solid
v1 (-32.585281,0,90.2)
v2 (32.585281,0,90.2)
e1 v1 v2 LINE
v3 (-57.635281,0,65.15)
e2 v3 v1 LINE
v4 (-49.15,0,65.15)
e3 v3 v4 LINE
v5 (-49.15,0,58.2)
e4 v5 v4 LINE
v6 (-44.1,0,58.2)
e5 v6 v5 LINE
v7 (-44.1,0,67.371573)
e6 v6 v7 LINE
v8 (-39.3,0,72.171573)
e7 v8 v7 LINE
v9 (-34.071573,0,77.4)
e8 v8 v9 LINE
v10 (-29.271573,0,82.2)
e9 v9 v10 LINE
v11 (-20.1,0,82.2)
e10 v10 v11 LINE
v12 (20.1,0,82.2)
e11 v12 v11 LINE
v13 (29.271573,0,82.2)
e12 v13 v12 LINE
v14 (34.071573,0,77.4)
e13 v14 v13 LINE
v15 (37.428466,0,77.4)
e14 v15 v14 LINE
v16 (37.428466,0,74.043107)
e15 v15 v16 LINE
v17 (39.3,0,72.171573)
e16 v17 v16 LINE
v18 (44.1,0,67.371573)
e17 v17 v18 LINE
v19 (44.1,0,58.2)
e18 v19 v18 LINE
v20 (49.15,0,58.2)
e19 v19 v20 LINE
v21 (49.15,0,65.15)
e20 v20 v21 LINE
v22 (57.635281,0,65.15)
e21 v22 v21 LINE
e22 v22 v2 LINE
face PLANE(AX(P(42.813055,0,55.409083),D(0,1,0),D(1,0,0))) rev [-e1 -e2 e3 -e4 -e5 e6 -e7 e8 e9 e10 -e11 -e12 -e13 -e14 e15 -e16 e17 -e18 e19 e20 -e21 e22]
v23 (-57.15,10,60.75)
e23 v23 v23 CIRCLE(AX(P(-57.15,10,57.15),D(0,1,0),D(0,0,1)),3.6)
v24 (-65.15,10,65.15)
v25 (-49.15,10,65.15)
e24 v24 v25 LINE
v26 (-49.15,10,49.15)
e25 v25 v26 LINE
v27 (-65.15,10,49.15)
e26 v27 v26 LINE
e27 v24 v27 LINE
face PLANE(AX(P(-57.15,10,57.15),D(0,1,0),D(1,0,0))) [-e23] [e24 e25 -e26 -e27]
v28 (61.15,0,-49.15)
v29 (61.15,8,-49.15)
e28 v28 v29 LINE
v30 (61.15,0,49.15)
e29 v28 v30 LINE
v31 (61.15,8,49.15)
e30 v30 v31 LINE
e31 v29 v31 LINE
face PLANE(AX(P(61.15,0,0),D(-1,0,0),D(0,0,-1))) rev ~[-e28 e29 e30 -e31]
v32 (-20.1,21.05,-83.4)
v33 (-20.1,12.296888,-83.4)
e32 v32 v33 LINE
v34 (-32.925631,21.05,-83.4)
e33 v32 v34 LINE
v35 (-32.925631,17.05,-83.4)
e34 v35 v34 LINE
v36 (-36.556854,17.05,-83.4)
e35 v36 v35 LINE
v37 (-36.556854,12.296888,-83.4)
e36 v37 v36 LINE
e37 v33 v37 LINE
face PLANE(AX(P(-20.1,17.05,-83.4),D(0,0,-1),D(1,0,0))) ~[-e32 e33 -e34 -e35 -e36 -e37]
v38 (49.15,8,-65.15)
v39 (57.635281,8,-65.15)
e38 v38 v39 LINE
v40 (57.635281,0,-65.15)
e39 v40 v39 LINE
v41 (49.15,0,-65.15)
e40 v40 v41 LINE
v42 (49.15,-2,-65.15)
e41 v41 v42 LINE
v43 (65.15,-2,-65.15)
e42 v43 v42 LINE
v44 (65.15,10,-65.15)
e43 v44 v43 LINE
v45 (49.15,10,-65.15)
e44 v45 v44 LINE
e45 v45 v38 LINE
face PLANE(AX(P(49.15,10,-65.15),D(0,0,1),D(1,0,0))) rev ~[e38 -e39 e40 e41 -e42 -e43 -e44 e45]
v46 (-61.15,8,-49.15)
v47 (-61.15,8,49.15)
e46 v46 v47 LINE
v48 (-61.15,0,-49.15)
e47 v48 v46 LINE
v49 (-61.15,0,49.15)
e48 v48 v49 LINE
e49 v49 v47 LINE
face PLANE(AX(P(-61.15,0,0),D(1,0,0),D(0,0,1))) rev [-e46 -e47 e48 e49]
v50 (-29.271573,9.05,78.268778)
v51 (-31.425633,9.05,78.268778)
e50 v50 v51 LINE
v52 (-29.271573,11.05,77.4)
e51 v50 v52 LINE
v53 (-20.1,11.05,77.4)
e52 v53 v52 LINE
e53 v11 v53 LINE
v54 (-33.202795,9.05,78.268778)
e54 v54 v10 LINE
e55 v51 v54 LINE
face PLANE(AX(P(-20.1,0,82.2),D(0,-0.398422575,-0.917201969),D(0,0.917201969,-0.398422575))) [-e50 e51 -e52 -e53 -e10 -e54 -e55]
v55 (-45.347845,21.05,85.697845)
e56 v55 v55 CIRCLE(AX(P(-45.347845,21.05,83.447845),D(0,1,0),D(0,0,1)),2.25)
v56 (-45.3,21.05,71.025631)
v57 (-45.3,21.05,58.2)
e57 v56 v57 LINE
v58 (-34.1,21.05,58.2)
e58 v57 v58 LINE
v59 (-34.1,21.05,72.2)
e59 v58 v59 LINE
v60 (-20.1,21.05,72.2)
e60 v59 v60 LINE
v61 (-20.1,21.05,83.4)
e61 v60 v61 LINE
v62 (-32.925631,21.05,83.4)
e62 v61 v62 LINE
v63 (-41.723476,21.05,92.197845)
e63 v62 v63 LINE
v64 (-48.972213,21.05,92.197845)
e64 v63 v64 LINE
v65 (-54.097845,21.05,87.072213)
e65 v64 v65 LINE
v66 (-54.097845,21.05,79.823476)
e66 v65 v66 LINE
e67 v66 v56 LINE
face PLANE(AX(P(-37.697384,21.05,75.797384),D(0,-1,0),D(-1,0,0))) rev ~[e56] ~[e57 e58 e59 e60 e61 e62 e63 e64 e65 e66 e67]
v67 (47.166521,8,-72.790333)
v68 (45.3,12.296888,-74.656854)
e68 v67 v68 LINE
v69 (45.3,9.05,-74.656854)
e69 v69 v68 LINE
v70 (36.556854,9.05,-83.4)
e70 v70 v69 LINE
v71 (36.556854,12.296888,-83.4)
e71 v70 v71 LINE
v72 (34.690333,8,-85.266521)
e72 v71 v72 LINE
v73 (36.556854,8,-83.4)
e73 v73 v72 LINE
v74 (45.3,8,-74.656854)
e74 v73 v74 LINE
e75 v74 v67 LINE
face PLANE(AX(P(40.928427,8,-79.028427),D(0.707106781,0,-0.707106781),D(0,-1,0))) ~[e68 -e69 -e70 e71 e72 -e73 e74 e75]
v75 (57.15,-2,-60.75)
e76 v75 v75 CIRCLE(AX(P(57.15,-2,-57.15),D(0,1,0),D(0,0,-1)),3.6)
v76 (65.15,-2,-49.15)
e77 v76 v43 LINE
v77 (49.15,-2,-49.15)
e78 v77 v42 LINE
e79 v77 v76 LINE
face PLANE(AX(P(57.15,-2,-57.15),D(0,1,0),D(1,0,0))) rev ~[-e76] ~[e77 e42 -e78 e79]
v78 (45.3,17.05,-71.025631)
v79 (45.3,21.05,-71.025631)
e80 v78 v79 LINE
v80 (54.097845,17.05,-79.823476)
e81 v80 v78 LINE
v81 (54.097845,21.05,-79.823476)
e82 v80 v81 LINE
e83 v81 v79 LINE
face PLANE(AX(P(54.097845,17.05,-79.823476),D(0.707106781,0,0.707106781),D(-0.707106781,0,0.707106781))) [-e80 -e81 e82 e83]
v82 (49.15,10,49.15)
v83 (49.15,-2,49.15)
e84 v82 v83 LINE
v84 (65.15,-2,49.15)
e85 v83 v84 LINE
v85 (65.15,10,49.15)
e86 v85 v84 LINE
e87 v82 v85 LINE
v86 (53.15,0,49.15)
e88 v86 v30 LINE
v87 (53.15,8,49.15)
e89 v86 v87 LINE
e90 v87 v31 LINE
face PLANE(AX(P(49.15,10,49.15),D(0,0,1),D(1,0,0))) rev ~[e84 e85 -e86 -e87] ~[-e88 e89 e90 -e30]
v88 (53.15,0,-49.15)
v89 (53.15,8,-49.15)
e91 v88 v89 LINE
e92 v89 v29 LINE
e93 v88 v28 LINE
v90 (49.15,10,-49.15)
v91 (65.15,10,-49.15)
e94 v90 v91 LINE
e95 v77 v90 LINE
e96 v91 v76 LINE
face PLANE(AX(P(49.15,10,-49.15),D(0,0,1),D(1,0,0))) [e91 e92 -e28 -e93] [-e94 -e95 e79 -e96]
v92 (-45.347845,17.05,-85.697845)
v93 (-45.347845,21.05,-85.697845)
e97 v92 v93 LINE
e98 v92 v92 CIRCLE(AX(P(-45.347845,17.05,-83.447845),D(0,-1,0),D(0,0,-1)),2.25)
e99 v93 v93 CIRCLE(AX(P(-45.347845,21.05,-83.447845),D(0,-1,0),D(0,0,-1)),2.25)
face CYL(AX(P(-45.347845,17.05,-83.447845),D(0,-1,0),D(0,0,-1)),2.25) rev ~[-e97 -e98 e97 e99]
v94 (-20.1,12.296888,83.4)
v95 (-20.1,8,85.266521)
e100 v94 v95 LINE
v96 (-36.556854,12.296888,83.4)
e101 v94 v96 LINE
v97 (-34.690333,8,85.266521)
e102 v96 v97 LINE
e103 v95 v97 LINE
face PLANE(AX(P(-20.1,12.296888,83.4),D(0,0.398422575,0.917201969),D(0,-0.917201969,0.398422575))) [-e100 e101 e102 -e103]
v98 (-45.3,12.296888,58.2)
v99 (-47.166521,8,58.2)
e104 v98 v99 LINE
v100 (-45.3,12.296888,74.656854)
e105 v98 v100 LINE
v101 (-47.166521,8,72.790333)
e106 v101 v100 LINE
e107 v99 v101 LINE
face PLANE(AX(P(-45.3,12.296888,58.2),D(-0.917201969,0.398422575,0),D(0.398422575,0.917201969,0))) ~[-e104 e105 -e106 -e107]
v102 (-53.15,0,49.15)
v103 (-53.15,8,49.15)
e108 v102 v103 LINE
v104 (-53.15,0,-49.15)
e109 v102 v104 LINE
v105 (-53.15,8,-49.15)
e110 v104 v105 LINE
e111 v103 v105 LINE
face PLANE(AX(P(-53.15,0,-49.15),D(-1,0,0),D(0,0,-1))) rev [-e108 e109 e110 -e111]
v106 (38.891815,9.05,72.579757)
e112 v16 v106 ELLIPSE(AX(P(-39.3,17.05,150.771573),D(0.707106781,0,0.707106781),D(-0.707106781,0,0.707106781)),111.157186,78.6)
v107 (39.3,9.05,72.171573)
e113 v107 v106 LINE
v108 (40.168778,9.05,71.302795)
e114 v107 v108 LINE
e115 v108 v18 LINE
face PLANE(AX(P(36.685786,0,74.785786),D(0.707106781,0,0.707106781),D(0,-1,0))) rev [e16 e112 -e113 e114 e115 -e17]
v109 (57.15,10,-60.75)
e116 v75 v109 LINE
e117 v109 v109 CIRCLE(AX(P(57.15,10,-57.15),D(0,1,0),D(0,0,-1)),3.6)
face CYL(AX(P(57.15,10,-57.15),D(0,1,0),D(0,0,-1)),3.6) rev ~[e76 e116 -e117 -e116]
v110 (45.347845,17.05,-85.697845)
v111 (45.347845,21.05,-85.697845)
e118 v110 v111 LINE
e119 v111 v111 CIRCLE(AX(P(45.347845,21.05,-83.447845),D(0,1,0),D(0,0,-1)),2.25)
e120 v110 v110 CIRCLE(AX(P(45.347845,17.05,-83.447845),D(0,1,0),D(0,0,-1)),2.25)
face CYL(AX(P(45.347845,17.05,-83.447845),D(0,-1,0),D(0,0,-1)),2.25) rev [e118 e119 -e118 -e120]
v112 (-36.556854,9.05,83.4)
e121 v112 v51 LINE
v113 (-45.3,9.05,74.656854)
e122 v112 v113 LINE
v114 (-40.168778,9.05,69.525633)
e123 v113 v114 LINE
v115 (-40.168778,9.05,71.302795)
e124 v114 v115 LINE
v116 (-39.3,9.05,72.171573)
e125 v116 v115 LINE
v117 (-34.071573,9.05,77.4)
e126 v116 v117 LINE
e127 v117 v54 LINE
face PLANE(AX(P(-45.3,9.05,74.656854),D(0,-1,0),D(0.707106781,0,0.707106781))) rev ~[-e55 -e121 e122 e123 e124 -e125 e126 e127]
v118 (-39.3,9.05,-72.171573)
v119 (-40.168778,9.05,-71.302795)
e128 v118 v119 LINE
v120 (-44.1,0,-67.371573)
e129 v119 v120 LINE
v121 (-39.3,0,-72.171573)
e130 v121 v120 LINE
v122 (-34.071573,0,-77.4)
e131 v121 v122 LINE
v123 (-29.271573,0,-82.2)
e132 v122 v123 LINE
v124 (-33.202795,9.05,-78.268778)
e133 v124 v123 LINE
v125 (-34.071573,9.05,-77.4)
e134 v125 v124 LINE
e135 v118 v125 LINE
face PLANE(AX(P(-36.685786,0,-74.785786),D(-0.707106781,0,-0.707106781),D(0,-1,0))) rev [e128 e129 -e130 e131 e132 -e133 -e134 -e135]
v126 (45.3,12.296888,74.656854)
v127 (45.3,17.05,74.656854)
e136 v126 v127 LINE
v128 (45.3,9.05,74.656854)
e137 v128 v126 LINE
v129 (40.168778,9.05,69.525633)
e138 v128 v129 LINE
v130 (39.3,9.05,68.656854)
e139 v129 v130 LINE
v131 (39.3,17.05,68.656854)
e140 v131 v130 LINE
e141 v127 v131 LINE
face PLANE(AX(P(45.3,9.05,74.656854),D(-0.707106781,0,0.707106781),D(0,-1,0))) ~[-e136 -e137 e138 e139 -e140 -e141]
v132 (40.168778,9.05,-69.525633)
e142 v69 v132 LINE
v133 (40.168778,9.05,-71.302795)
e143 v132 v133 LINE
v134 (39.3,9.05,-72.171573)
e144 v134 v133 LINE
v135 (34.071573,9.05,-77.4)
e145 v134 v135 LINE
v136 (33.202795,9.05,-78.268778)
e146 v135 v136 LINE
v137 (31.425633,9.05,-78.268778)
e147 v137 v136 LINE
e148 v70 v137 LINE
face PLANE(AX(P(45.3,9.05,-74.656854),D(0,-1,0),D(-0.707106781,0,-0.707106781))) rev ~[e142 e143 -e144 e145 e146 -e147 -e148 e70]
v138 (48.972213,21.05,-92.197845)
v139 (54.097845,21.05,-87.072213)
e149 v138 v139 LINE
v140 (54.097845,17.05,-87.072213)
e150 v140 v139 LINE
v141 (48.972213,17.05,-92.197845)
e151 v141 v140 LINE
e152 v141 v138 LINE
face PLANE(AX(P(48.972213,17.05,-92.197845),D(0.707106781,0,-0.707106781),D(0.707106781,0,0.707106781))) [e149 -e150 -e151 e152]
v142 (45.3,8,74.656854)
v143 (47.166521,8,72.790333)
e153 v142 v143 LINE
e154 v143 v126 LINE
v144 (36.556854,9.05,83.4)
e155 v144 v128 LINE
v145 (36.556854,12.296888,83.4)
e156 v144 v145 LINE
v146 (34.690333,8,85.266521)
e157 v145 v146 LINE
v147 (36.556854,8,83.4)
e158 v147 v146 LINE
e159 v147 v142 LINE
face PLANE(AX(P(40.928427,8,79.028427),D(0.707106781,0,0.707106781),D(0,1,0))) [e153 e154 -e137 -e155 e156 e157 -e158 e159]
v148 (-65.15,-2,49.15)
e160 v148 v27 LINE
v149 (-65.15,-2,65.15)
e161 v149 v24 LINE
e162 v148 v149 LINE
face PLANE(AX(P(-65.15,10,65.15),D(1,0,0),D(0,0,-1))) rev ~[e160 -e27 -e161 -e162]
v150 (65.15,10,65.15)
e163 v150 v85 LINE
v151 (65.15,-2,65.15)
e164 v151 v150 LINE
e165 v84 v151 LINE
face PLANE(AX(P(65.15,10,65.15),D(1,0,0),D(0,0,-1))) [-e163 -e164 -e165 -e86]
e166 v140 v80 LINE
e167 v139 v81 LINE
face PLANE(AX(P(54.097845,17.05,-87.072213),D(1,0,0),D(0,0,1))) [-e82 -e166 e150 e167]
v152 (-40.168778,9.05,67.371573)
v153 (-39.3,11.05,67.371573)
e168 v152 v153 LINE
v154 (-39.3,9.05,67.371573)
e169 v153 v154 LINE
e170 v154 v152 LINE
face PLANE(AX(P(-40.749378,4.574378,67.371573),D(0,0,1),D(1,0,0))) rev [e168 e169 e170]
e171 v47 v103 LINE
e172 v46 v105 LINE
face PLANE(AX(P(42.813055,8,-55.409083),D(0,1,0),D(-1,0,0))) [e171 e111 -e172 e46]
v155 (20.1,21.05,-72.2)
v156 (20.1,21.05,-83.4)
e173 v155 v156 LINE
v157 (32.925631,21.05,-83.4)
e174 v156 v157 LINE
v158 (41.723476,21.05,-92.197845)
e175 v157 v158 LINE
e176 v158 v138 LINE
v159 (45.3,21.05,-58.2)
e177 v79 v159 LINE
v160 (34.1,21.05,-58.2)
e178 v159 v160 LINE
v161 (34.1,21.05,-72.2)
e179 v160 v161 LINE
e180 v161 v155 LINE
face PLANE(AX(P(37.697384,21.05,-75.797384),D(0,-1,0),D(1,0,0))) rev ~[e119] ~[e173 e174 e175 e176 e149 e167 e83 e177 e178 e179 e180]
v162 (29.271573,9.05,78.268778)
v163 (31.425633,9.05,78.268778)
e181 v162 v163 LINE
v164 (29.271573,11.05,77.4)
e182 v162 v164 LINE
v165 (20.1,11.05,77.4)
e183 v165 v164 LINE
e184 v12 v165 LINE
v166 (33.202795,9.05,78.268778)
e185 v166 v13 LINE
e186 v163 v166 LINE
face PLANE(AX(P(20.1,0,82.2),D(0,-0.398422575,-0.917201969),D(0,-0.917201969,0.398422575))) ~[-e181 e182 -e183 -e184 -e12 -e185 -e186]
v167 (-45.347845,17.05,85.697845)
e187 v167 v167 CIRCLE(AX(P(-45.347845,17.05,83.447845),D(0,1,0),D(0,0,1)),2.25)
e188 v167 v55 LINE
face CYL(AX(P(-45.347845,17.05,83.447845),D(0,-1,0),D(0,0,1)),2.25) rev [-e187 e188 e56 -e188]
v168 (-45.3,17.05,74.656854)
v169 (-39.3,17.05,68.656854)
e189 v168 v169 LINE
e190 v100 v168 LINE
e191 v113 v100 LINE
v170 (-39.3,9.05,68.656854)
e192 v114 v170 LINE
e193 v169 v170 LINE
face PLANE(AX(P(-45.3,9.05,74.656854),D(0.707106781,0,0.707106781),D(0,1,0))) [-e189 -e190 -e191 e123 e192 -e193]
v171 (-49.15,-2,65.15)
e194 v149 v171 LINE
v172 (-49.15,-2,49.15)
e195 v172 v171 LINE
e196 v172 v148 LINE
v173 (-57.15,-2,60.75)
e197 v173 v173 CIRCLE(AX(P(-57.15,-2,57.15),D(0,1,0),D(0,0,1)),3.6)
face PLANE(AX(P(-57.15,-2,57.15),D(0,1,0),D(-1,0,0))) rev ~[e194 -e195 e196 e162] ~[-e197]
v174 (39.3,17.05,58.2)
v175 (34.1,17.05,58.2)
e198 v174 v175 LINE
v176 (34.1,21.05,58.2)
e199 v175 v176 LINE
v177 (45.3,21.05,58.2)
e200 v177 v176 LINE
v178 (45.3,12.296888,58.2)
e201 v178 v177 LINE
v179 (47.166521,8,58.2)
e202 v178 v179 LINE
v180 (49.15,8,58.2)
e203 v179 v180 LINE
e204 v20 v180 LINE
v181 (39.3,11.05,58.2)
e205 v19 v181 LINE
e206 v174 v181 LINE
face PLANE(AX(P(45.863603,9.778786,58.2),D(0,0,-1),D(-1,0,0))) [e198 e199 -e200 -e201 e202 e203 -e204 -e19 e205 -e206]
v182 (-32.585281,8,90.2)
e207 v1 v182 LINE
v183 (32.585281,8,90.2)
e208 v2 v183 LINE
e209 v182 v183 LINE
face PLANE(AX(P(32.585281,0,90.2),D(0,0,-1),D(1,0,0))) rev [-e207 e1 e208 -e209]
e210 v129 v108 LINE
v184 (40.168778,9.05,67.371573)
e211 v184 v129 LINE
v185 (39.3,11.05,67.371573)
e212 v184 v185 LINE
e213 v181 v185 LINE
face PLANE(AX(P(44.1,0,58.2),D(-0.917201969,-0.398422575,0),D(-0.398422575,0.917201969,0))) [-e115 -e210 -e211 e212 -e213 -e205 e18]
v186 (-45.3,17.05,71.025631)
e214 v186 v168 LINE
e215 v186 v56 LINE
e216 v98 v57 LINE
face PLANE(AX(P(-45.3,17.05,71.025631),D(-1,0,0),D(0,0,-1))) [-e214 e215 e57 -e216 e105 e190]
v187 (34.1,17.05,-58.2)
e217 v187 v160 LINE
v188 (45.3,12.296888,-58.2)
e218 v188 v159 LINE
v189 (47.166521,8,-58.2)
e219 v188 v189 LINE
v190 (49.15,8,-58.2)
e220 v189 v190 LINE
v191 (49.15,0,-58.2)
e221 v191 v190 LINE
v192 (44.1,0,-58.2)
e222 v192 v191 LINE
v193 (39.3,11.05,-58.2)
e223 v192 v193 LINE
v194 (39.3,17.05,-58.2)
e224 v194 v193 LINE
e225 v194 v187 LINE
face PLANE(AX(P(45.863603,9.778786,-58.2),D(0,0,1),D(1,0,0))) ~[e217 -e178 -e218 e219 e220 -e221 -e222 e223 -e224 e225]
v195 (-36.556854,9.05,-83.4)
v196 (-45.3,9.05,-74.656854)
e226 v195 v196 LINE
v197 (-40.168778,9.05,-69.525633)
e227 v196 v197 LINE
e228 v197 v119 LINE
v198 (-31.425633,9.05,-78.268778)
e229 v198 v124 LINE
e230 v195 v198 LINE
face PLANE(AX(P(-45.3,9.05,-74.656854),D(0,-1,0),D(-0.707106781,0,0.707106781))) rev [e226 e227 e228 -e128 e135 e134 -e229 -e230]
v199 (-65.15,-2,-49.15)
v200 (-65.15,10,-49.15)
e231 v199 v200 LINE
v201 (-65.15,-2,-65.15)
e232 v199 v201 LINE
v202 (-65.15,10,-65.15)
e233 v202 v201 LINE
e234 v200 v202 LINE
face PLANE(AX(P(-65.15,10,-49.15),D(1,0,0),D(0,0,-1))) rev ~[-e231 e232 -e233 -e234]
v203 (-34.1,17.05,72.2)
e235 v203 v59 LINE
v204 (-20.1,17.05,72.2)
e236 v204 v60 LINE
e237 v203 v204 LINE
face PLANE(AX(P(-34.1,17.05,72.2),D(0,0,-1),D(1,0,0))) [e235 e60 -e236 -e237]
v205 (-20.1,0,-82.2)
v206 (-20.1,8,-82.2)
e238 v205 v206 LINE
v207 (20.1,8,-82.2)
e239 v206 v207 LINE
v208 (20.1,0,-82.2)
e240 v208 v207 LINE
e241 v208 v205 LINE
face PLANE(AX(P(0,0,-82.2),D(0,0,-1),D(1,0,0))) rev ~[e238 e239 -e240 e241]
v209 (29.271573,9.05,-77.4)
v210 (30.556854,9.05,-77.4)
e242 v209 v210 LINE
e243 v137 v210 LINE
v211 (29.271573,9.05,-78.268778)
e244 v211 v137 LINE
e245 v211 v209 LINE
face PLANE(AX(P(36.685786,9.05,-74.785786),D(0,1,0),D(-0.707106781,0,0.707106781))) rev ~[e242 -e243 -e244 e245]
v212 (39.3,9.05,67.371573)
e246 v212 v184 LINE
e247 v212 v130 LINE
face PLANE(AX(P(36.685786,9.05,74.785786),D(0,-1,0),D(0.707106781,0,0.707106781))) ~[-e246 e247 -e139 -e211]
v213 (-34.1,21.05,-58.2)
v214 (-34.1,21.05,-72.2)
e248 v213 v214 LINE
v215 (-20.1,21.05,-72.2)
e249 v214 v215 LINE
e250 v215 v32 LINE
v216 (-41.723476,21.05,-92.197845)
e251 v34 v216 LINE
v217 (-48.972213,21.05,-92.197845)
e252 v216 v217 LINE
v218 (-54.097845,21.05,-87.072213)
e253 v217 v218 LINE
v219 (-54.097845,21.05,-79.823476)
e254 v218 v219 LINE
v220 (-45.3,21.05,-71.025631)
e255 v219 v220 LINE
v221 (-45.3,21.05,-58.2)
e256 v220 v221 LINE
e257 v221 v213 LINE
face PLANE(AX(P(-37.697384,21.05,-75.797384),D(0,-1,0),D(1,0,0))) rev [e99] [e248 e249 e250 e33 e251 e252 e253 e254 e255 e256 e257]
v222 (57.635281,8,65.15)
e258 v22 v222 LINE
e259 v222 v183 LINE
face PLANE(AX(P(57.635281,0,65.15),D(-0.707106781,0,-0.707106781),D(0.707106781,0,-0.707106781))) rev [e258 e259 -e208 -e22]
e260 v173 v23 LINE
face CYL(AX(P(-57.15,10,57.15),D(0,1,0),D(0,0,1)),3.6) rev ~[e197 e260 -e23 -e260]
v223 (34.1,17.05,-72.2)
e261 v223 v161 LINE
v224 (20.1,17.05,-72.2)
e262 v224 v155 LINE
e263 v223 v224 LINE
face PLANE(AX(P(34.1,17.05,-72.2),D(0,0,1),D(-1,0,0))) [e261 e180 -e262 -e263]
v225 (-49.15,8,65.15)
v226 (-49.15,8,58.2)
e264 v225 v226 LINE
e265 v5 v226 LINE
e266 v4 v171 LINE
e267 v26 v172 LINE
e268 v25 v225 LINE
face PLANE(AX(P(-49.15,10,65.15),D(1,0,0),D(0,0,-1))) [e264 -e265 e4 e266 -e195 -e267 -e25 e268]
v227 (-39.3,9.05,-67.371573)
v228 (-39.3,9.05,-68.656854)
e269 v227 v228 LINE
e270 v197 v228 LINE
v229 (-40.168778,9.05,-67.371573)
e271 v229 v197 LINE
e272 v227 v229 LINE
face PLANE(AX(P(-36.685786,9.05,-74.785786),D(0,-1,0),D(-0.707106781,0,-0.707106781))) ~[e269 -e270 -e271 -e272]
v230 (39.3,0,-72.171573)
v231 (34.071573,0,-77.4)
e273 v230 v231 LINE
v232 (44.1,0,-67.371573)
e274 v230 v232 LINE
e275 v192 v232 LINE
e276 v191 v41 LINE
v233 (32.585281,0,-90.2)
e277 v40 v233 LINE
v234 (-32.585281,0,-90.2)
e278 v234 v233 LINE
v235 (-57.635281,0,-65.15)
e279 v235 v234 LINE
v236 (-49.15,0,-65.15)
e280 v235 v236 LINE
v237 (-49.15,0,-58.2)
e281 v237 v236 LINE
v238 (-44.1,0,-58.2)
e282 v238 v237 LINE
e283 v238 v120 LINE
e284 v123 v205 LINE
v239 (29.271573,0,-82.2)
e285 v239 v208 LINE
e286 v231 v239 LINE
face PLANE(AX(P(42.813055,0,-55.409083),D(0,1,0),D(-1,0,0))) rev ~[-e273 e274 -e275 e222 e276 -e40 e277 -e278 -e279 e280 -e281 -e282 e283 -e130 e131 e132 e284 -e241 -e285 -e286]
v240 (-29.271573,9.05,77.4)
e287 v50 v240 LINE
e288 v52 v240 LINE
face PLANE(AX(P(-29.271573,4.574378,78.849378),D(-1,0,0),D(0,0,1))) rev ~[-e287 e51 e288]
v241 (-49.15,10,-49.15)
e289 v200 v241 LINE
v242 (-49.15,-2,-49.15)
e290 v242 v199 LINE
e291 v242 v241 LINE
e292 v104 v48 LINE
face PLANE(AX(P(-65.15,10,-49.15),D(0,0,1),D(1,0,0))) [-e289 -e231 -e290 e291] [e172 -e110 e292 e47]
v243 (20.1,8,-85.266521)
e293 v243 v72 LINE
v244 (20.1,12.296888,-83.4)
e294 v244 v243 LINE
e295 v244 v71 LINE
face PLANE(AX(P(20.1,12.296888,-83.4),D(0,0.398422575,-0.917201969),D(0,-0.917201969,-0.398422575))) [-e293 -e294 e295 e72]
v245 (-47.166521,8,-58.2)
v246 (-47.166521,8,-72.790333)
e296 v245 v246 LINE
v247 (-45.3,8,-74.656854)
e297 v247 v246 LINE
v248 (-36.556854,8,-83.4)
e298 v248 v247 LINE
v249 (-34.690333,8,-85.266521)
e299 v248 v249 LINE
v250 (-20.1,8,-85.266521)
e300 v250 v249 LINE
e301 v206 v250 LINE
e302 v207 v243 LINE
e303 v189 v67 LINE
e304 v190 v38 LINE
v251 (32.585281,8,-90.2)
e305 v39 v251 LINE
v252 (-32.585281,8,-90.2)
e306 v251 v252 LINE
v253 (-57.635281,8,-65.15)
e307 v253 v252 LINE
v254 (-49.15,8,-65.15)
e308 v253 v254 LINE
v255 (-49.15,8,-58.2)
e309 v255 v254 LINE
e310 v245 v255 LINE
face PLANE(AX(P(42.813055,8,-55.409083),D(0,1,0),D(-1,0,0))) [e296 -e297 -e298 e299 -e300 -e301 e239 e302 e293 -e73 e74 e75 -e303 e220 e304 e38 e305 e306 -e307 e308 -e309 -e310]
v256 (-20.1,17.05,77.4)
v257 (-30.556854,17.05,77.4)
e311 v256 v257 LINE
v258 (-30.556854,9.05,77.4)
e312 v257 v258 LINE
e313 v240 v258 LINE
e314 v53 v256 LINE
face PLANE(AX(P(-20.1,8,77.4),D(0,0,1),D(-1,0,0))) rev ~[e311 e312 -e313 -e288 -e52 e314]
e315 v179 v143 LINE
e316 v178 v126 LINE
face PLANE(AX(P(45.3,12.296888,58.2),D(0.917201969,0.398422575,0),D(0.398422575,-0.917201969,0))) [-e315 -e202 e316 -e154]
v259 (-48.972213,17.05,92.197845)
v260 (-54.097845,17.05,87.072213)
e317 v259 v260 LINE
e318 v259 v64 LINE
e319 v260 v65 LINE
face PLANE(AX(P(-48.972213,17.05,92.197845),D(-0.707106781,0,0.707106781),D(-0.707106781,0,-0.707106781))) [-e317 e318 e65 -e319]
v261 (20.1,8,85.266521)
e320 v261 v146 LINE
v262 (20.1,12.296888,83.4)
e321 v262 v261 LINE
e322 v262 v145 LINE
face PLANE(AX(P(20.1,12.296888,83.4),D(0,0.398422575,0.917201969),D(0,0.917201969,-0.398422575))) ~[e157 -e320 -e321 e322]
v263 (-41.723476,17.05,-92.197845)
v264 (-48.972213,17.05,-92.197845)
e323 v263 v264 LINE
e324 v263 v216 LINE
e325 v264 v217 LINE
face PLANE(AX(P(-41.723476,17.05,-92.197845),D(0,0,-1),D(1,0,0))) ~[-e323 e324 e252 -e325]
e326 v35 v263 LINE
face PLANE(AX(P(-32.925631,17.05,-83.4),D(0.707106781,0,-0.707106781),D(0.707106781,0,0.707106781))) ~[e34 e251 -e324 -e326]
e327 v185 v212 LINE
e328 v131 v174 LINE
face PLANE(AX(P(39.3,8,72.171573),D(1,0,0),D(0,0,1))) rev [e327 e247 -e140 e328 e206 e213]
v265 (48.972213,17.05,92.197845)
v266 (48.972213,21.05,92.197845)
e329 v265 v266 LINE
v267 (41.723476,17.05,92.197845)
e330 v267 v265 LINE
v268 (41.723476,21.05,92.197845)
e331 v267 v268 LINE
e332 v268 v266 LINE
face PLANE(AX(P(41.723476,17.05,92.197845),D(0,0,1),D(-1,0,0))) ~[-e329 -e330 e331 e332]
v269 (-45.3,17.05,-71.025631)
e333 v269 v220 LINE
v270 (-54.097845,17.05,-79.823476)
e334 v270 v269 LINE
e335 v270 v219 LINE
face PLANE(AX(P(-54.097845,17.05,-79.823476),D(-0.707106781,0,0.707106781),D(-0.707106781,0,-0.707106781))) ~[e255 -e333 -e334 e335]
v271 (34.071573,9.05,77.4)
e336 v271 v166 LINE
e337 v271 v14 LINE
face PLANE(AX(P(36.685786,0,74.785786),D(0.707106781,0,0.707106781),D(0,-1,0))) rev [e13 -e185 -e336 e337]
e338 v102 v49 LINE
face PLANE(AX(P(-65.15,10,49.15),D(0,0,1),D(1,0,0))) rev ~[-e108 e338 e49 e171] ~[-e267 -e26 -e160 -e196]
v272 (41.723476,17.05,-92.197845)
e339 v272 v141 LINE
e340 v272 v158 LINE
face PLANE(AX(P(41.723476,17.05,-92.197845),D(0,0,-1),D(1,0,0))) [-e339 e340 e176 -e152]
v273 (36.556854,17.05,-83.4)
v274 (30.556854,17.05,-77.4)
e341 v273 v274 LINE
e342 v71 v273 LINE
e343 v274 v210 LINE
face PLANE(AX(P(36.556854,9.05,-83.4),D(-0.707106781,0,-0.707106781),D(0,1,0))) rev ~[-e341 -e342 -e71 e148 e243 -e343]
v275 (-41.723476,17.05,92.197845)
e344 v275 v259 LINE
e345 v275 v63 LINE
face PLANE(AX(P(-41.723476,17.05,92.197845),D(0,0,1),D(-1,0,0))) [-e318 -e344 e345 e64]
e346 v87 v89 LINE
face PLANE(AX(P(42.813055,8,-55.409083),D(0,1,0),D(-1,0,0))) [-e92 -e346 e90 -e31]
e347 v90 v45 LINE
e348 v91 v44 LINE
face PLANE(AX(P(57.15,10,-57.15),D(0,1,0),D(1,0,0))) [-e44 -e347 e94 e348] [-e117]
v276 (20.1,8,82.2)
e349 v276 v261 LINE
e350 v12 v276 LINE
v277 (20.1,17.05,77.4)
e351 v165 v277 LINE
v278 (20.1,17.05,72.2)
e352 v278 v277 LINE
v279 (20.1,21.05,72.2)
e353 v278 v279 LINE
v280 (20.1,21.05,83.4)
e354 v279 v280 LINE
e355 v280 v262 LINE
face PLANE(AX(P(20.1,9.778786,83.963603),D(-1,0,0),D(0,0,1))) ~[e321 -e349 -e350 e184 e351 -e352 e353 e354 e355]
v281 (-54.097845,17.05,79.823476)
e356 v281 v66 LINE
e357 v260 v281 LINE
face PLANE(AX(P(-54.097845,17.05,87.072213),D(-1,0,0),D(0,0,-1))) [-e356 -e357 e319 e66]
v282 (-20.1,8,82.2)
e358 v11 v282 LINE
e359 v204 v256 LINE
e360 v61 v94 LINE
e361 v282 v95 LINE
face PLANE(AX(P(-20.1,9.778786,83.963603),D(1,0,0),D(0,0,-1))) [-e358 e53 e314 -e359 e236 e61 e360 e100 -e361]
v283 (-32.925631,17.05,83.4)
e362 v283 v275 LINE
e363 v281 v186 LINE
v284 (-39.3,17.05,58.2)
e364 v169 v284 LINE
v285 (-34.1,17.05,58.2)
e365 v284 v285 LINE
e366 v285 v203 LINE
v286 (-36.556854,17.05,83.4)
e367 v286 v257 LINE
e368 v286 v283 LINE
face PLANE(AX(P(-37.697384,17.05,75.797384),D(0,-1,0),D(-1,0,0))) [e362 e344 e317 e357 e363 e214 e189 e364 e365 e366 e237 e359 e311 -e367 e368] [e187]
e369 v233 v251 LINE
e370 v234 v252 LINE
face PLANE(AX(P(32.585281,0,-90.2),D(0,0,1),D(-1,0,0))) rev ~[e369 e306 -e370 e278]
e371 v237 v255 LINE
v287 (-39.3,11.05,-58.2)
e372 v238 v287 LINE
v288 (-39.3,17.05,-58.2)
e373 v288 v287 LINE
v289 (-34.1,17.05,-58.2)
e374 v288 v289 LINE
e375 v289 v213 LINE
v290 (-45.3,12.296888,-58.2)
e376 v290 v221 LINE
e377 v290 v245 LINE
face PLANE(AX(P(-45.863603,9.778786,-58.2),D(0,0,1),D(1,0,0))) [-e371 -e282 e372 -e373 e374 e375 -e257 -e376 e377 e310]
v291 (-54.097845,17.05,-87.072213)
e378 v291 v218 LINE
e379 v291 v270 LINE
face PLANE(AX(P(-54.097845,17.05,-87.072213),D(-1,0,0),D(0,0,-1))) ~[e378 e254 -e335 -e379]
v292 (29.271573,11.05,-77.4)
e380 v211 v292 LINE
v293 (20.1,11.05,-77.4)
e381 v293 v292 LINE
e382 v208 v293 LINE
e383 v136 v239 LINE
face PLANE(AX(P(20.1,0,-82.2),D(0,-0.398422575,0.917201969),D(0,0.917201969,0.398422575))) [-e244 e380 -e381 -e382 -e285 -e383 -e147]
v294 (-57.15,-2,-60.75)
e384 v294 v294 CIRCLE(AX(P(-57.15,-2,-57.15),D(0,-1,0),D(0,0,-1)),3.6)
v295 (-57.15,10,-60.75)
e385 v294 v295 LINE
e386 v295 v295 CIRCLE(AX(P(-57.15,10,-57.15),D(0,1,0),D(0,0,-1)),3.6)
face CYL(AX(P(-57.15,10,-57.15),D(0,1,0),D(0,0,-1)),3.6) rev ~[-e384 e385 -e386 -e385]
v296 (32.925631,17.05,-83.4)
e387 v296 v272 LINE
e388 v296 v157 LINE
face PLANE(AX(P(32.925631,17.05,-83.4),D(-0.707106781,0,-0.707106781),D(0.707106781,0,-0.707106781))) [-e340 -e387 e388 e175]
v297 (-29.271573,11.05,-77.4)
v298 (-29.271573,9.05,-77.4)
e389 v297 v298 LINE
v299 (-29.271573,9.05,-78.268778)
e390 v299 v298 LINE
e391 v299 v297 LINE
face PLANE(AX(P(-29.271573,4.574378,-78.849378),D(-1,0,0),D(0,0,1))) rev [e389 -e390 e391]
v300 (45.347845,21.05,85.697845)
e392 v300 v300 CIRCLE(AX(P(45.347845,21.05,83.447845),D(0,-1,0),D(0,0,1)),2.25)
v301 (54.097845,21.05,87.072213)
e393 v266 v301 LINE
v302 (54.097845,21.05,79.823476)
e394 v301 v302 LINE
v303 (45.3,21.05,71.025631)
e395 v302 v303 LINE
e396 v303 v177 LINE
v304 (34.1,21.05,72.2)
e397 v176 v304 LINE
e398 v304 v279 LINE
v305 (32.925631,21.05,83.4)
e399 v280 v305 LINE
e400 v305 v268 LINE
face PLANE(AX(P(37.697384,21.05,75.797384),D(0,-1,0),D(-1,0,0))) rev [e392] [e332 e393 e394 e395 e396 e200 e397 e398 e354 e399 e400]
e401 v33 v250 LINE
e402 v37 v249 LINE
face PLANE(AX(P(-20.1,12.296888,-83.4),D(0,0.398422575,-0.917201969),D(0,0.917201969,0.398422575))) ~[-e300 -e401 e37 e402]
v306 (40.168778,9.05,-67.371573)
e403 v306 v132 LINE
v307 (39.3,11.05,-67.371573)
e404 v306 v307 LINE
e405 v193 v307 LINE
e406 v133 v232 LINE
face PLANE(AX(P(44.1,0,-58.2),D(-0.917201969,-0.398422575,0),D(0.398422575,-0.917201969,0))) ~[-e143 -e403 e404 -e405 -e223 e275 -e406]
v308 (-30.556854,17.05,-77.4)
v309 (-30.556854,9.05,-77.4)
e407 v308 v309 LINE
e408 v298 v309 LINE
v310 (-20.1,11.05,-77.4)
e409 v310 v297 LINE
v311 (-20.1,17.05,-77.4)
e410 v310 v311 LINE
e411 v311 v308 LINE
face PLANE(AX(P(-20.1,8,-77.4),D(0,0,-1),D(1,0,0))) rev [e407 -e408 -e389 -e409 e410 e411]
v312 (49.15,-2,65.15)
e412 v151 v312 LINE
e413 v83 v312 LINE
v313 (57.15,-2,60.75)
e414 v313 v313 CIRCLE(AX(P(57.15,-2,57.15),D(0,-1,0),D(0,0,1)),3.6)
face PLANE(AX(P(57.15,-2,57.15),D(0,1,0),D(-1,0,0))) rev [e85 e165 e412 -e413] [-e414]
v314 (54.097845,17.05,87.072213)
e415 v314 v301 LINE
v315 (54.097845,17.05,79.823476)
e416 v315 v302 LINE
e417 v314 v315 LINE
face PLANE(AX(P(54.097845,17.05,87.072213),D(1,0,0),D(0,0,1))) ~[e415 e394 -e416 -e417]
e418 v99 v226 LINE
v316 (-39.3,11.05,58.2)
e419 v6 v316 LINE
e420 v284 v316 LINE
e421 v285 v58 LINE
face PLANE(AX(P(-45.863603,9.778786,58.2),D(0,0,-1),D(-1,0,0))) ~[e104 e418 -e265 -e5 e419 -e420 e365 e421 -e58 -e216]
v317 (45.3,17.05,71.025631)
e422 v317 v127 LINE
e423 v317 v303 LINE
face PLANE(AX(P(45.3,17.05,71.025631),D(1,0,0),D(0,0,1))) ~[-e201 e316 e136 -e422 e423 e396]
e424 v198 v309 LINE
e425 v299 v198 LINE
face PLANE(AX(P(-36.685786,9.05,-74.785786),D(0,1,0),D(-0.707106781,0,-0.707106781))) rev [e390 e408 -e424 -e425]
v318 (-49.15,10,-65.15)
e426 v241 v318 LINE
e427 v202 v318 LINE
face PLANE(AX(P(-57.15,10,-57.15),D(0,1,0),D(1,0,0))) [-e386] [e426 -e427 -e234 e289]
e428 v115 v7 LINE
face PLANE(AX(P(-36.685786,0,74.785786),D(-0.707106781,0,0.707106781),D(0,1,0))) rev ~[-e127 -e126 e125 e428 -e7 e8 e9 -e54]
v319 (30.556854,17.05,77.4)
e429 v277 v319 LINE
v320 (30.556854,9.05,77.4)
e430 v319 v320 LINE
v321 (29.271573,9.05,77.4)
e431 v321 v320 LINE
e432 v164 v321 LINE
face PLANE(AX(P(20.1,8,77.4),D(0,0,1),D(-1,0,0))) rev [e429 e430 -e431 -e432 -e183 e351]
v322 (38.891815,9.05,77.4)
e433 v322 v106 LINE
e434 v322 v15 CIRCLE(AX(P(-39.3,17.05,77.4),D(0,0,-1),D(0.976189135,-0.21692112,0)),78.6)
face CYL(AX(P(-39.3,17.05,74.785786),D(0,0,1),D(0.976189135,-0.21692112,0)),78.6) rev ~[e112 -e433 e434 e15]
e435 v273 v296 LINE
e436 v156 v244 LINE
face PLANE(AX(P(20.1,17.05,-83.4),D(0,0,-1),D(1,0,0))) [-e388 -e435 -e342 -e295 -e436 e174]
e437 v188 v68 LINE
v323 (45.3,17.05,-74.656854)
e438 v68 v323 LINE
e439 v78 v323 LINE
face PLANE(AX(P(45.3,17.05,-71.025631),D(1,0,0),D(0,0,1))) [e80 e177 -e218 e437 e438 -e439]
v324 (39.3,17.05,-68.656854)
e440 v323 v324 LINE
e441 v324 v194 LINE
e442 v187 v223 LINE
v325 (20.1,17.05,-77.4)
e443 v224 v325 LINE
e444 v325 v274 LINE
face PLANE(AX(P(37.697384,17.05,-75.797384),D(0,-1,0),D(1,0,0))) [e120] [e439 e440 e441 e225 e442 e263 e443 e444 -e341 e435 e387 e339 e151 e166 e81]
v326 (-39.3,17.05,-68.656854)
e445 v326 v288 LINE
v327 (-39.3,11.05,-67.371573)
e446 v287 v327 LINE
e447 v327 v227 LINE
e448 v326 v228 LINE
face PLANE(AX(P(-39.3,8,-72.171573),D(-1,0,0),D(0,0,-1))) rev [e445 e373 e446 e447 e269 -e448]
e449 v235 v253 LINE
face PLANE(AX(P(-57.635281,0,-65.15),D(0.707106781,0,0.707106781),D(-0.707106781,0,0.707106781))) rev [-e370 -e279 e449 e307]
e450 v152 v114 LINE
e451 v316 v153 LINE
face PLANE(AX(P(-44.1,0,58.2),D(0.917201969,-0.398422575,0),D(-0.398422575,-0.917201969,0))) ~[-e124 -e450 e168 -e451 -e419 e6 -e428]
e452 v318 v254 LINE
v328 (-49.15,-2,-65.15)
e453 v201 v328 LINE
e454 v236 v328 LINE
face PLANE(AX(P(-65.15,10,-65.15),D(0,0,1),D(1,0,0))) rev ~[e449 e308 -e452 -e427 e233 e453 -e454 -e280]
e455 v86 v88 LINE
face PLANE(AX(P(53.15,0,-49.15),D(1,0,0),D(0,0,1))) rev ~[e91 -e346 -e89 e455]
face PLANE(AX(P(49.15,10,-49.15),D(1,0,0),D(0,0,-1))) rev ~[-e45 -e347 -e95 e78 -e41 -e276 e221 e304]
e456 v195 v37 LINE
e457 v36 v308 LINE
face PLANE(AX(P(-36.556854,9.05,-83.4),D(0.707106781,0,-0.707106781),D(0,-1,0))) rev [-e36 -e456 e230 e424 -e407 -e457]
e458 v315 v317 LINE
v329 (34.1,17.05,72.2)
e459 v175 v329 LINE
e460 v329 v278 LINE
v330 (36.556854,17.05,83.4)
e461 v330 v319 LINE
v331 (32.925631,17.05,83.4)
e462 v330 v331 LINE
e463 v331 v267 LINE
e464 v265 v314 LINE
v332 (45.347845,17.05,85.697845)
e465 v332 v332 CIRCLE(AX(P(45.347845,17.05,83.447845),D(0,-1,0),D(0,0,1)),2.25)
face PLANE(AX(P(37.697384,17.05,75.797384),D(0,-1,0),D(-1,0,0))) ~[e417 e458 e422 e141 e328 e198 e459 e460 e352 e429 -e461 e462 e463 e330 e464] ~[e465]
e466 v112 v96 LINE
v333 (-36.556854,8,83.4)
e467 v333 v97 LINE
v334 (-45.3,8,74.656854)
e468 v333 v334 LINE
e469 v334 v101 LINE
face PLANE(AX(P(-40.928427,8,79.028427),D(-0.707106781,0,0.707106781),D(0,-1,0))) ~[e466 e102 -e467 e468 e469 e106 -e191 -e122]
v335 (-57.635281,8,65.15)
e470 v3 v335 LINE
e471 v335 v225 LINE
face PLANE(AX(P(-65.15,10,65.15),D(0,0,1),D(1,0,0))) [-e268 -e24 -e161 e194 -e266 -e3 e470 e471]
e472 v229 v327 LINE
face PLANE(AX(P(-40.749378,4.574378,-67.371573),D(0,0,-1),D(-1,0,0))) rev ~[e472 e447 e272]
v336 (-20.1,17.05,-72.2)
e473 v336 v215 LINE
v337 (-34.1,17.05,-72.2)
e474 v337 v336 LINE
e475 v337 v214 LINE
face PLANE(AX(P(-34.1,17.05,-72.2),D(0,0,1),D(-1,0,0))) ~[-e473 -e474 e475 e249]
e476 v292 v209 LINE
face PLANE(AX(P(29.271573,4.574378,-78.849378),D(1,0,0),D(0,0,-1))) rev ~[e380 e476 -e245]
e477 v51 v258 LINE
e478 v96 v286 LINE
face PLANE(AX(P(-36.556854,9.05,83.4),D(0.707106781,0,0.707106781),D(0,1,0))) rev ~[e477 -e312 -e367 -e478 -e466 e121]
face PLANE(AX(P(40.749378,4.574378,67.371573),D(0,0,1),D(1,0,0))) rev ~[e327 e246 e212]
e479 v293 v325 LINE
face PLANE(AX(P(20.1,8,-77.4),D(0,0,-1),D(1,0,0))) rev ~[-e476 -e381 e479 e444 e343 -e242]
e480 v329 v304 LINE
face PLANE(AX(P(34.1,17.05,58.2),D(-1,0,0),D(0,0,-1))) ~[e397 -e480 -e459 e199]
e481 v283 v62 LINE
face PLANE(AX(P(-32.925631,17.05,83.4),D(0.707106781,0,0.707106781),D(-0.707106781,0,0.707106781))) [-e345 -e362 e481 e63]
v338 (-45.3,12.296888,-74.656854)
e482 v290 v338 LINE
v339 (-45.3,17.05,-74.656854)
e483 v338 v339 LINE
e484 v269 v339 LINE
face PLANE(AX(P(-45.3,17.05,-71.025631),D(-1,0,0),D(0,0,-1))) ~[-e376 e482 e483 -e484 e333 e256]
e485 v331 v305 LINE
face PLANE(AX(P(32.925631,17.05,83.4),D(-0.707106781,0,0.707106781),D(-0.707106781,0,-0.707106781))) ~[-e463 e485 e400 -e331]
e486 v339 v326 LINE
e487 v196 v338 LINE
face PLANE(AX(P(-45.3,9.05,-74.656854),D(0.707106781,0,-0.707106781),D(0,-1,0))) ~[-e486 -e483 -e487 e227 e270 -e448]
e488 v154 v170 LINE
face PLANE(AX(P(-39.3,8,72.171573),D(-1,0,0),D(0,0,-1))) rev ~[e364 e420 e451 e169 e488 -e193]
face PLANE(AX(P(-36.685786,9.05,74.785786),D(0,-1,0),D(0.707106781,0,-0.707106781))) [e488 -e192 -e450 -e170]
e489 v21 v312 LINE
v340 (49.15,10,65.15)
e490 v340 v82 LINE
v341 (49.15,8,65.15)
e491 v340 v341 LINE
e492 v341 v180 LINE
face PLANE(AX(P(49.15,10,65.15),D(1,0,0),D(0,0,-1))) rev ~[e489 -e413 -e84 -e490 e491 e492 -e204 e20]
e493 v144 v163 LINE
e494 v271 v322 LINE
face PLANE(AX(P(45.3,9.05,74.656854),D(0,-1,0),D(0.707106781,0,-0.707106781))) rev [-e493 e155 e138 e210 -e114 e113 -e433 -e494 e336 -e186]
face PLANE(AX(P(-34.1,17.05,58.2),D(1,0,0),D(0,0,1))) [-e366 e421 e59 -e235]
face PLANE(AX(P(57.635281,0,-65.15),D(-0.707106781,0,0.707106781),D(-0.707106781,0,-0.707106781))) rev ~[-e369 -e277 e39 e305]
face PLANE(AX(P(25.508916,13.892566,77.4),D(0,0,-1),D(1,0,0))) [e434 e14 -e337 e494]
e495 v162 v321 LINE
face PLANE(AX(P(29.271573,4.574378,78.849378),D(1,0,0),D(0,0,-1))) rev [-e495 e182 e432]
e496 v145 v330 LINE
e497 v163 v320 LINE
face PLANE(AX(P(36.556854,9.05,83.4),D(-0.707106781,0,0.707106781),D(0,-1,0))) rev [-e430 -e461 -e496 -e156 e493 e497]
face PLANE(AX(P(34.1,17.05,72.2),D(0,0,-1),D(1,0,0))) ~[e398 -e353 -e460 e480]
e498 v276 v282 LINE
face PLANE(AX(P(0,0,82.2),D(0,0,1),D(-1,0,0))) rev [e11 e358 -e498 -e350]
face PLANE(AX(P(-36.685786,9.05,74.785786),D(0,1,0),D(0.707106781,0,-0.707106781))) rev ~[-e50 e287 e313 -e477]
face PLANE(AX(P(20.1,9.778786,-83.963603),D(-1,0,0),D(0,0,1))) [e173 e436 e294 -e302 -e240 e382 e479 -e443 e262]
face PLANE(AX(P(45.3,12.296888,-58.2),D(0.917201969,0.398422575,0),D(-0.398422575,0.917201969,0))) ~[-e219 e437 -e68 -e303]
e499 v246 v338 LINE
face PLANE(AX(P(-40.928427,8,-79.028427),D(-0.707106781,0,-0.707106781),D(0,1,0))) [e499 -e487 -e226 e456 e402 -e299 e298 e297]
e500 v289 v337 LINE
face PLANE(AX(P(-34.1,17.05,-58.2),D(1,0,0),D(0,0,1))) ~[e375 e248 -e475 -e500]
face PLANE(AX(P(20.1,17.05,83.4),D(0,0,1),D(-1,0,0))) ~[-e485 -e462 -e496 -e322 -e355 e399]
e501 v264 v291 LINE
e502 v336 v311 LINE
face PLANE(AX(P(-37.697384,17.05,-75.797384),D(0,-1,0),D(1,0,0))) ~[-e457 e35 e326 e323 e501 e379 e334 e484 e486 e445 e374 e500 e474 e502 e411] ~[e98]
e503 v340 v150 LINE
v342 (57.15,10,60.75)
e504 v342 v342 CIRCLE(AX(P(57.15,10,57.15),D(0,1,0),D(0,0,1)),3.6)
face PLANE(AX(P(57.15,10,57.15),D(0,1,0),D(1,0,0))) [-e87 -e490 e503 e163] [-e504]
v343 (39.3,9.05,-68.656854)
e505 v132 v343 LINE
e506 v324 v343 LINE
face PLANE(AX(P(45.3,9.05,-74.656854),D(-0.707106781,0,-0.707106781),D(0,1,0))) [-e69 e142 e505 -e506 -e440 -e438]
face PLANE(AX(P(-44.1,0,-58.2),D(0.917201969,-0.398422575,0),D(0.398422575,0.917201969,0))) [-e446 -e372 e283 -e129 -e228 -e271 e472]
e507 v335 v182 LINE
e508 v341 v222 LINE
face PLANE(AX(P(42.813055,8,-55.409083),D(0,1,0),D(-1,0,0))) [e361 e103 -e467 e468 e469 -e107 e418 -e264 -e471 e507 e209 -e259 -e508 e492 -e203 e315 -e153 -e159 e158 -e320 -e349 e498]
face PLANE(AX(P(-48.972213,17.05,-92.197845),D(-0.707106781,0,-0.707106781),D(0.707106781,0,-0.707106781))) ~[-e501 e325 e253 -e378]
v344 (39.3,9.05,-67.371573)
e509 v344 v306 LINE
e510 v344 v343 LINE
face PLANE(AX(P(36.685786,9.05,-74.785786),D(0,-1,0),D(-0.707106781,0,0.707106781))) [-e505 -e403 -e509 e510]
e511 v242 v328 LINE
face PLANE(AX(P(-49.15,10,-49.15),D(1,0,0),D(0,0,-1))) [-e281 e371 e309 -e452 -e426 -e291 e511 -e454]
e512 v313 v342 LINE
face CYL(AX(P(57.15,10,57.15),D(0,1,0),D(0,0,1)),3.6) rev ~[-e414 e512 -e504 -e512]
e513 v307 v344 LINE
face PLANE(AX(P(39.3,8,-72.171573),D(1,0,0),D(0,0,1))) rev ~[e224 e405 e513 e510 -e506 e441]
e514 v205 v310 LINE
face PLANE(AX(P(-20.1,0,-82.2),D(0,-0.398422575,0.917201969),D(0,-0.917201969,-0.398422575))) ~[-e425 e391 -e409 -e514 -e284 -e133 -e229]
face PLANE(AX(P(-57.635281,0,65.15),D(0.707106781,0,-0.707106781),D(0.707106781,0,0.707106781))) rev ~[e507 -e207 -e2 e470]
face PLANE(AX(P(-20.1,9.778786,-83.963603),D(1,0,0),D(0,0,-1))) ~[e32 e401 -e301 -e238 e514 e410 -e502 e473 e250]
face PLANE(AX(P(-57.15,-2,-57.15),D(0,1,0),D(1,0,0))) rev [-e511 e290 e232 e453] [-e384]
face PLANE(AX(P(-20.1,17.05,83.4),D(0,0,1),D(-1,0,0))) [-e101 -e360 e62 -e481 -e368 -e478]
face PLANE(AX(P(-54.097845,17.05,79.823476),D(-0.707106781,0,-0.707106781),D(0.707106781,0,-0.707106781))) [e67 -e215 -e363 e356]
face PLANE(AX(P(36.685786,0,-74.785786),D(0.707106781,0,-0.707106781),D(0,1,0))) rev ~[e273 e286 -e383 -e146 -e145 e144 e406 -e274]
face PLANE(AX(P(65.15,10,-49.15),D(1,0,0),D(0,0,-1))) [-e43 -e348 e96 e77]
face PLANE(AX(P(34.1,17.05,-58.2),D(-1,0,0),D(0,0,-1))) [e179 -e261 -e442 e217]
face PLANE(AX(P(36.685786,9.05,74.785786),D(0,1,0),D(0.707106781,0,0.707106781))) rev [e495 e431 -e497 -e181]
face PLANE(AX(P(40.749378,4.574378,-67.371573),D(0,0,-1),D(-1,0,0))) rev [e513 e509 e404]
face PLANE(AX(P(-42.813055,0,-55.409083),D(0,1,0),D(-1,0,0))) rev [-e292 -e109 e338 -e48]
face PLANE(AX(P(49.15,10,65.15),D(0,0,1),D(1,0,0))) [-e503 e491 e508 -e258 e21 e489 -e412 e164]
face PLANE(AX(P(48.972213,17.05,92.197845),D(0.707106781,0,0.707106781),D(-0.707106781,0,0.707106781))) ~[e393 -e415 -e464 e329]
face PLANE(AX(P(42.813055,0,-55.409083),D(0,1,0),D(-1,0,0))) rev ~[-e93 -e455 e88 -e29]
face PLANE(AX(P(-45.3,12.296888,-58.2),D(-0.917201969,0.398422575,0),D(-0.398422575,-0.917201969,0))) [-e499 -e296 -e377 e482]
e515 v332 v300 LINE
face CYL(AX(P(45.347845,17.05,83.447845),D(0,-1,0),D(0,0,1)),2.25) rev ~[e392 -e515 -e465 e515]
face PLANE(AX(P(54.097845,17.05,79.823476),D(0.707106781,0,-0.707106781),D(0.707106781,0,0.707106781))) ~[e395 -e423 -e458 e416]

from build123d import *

# Parameters (mm, degrees)
BOSS_EXTRUDE1_DEPTH            = 8
BOSS_EXTRUDE2_DEPTH            = 2
BOSS_EXTRUDE3_DEPTH            = 9.05
SKETCH4_R                      = 2.25
BOSS_EXTRUDE4_DEPTH            = 4
CUT_EXTRUDE1_REACH             = 89.395
SKETCH5_W                      = 12.364675298
SKETCH5_H                      = 8
CUT_EXTRUDE1_DIRECTION_2_DEPTH = 88.395228364
CUT_EXTRUDE2_DEPTH             = 9.171573
CUT_EXTRUDE3_REACH             = 115.505
SKETCH8_W                      = 3.39411255
SKETCH8_H                      = 9.05
CUT_EXTRUDE3_DIRECTION_2_REACH = 115.505
BOSS_EXTRUDE5_DEPTH            = 16.456854
CUT_EXTRUDE4_DEPTH             = 114.504844196
SKETCH12_R                     = 3.6
CUT_EXTRUDE5_DEPTH             = 114.645358602
BOSS_EXTRUDE6_START            = 2
SKETCH13_W                     = 16
SKETCH13_H                     = 16
SKETCH13_R                     = 3.6
BOSS_EXTRUDE6_DEPTH            = 2
CUT_EXTRUDE6_REACH             = 182.475
CUT_EXTRUDE6_DIRECTION_2_DEPTH = 15


with BuildPart() as part:
    # Sketch1 → Boss-Extrude1 (new body)
    with BuildSketch(Plane(origin=(0, 0, 0), x_dir=(1, 0, 0), z_dir=(0, 1, 0))):
        Polygon((-53.15, 0), (-61.15, 0), (-61.15, -49.15), (-65.15, -49.15), (-65.15, -65.15), (-57.635281374, -65.15), (-32.585281374, -90.2), (0, -90.2), (0, -82.2), (-20.1, -82.2), (-20.1, -77.4), (-34.071572875, -77.4), (-39.3, -72.171572875), (-39.3, -58.2), (-49.15, -58.2), (-49.15, -49.15), (-53.15, -49.15), align=None)
    extrude(amount=BOSS_EXTRUDE1_DEPTH)

    # Sketch2 → Boss-Extrude2 (add)
    with BuildSketch(Plane.XZ):
        Polygon((-49.15, 58.2), (-49.15, 49.15), (-65.15, 49.15), (-65.15, 65.15), (-49.15, 65.15), align=None)
    extrude(amount=BOSS_EXTRUDE2_DEPTH)

    # Sketch3 → Boss-Extrude3 (add)
    with BuildSketch(Plane(origin=(0, 8, 0), x_dir=(1, 0, 0), z_dir=(0, 1, 0))):
        Polygon((-39.3, -58.2), (-45.3, -58.2), (-45.3, -74.656854249), (-36.556854249, -83.4), (-20.1, -83.4), (-20.1, -77.4), (-34.071572875, -77.4), (-39.3, -72.171572875), align=None)
    extrude(amount=BOSS_EXTRUDE3_DEPTH)

    # Sketch4 → Boss-Extrude4 (add)
    with BuildSketch(Plane(origin=(0, 17.05, 0), x_dir=(1, 0, 0), z_dir=(0, 1, 0))):
        Polygon((-45.3, -58.2), (-34.1, -58.2), (-34.1, -72.2), (-20.1, -72.2), (-20.1, -83.4), (-32.925631329, -83.4), (-41.723475836, -92.197844507), (-48.972213178, -92.197844507), (-54.097844507, -87.072213178), (-54.097844507, -79.823475836), (-45.3, -71.025631329), align=None)
        with Locations(Location((-45.347844507, -83.447844507, 0), (0, 0, 270))):
            Circle(SKETCH4_R, mode=Mode.SUBTRACT)
    extrude(amount=BOSS_EXTRUDE4_DEPTH)

    # Sketch5 → Cut-Extrude1 (cut, up to next)
    with BuildSketch(Plane(origin=(-59.978427125, 0, 59.978427125), x_dir=(0.7071067811865475, 0, 0.7071067811865477), z_dir=(-0.7071067811865477, 0, 0.7071067811865475)), mode=Mode.PRIVATE) as cut_extrude1_sk1:
        with Locations((26.940768363, 13.05)):
            Rectangle(SKETCH5_W, SKETCH5_H)
    cut_extrude1_tool1 = extrude(cut_extrude1_sk1.sketch, amount=-CUT_EXTRUDE1_REACH, mode=Mode.PRIVATE) & part.part
    add(cut_extrude1_tool1.solids().sort_by_distance((-40.928427, 13.05, 79.028427))[0], mode=Mode.SUBTRACT)

    # Sketch5 → Cut-Extrude1 direction 2 (cut)
    with BuildSketch(Plane(origin=(-59.978427125, 0, 59.978427125), x_dir=(0.7071067811865475, 0, 0.7071067811865477), z_dir=(-0.7071067811865477, 0, 0.7071067811865475))):
        with Locations((26.940768363, 13.05)):
            Rectangle(SKETCH5_W, SKETCH5_H)
    extrude(amount=CUT_EXTRUDE1_DIRECTION_2_DEPTH, mode=Mode.SUBTRACT)

    # Sketch6 → Cut-Extrude2 (cut)
    with BuildSketch(Plane(origin=(-20.1, 0, 0), x_dir=(0, 0, -1), z_dir=(1, 0, 0))):
        Polygon((-82.2, 0), (-77.4, 11.05), (-77.4, 0), align=None)
    cut_extrude2 = extrude(amount=-CUT_EXTRUDE2_DEPTH, mode=Mode.SUBTRACT)

    # Mirror1: Cut-Extrude2 across plane
    add(cut_extrude2.mirror(Plane(origin=(19.05, 0, 19.05), x_dir=(-0.7071067811865477, 0, 0.7071067811865474), z_dir=(0.7071067811865476, 0, 0.7071067811865476))), mode=Mode.SUBTRACT)

    # Cut-Extrude3: up to this face of the body (flat: up to its plane)
    cut_extrude3_end = Plane(part.part.faces().sort_by_distance((-41.7, 5.525, 62.7857865))[0])
    # Sketch8 → Cut-Extrude3 (cut, up to the picked face)
    with BuildSketch(Plane(origin=(19.05, 0, 19.05), x_dir=(0.7071067811865476, 0, -0.7071067811865476), z_dir=(0.7071067811865476, 0, 0.7071067811865476)), mode=Mode.PRIVATE) as cut_extrude3_sk1:
        with Locations((-77.125248815, 4.525)):
            Rectangle(SKETCH8_W, SKETCH8_H)
    cut_extrude3_tool1 = split(extrude(cut_extrude3_sk1.sketch, amount=-CUT_EXTRUDE3_REACH, mode=Mode.PRIVATE), bisect_by=cut_extrude3_end, keep=Keep.BOTH, mode=Mode.PRIVATE)
    add(cut_extrude3_tool1.solids().sort_by(Axis((-35.485786, 4.525, 73.585786), (-0.7071067811865476, 0, -0.7071067811865476)))[0], mode=Mode.SUBTRACT)

    # Cut-Extrude3 direction 2: up to this face of the body (flat: up to its plane)
    cut_extrude3_direction_2_end = Plane(part.part.faces().sort_by_distance((-24.6857865, 5.525, 79.8))[0])
    # Sketch8 → Cut-Extrude3 direction 2 (cut, up to the picked face)
    with BuildSketch(Plane(origin=(19.05, 0, 19.05), x_dir=(0.7071067811865476, 0, -0.7071067811865476), z_dir=(0.7071067811865476, 0, 0.7071067811865476)), mode=Mode.PRIVATE) as cut_extrude3_direction_2_sk1:
        with Locations((-77.125248815, 4.525)):
            Rectangle(SKETCH8_W, SKETCH8_H)
    cut_extrude3_direction_2_tool1 = split(extrude(cut_extrude3_direction_2_sk1.sketch, amount=CUT_EXTRUDE3_DIRECTION_2_REACH, mode=Mode.PRIVATE), bisect_by=cut_extrude3_direction_2_end, keep=Keep.BOTH, mode=Mode.PRIVATE)
    add(cut_extrude3_direction_2_tool1.solids().sort_by(Axis((-35.485786, 4.525, 73.585786), (0.7071067811865476, 0, 0.7071067811865476)))[0], mode=Mode.SUBTRACT)

    # Sketch10 → Boss-Extrude5 (add)
    with BuildSketch(Plane(origin=(-20.1, 0, 0), x_dir=(0, 0, -1), z_dir=(1, 0, 0))):
        Polygon((-83.4, 12.296887645), (-85.26652133, 8), (-83.4, 8), align=None)
    boss_extrude5 = extrude(amount=-BOSS_EXTRUDE5_DEPTH)

    # Sketch11 → Cut-Extrude4 (cut, through all)
    with BuildSketch(Plane(origin=(19.05, 0, 19.05), x_dir=(0.7071067811865476, 0, -0.7071067811865476), z_dir=(0.7071067811865476, 0, 0.7071067811865476))):
        Polygon((-84.82230509, 12.296887645), (-86.142134979, 8), (-84.82230509, 8), align=None)
    cut_extrude4 = extrude(amount=CUT_EXTRUDE4_DEPTH, mode=Mode.SUBTRACT)

    # Mirror2: Boss-Extrude5, Cut-Extrude4 across plane
    add(boss_extrude5.mirror(Plane(origin=(19.05, 0, 19.05), x_dir=(-0.7071067811865477, 0, 0.7071067811865474), z_dir=(0.7071067811865476, 0, 0.7071067811865476))))
    add(cut_extrude4.mirror(Plane(origin=(19.05, 0, 19.05), x_dir=(-0.7071067811865477, 0, 0.7071067811865474), z_dir=(0.7071067811865476, 0, 0.7071067811865476))), mode=Mode.SUBTRACT)

    # Sketch12 → Cut-Extrude5 (cut, through all)
    with BuildSketch(Plane(origin=(0, 8, 0), x_dir=(1, 0, 0), z_dir=(0, 1, 0))):
        with Locations(Location((-57.15, -57.15, 0), (0, 0, 270))):
            Circle(SKETCH12_R)
    extrude(amount=-CUT_EXTRUDE5_DEPTH, mode=Mode.SUBTRACT)

    # Mirror3: part across plane


with BuildPart() as part_1:
    add(part.part)
    add(part.part.mirror(Plane(origin=(-53.15, 8, 0), x_dir=(1, 0, 0), z_dir=(0, 0, 1))))

    # Mirror4: part across plane


with BuildPart() as part_2:
    add(part_1.part)
    add(part_1.part.mirror(Plane(origin=(0, 8, -90.2), x_dir=(0, 0, 1), z_dir=(-1, 0, 0))))

    # Sketch13 → Boss-Extrude6 (add)
    # profile 1 of 4: a face of its own
    with BuildSketch(Plane(origin=(0, 8, 0), x_dir=(1, 0, 0), z_dir=(0, 1, 0)).offset(BOSS_EXTRUDE6_START)):
        with Locations((-57.15, 57.15)):
            Rectangle(SKETCH13_W, SKETCH13_H)
        with Locations(Location((-57.15, 57.15, 0), (0, 0, 90))):
            Circle(SKETCH13_R, mode=Mode.SUBTRACT)
    # profile 2 of 4: a face of its own
    with BuildSketch(Plane(origin=(0, 8, 0), x_dir=(1, 0, 0), z_dir=(0, 1, 0)).offset(BOSS_EXTRUDE6_START)):
        with Locations((-57.15, -57.15)):
            Rectangle(SKETCH13_W, SKETCH13_H)
        with Locations(Location((-57.15, -57.15, 0), (0, 0, 270))):
            Circle(SKETCH13_R, mode=Mode.SUBTRACT)
    # profile 3 of 4: a face of its own
    with BuildSketch(Plane(origin=(0, 8, 0), x_dir=(1, 0, 0), z_dir=(0, 1, 0)).offset(BOSS_EXTRUDE6_START)):
        with Locations((57.15, -57.15)):
            Rectangle(SKETCH13_W, SKETCH13_H)
        with Locations(Location((57.15, -57.15, 0), (0, 0, 270))):
            Circle(SKETCH13_R, mode=Mode.SUBTRACT)
    # profile 4 of 4: a face of its own
    with BuildSketch(Plane(origin=(0, 8, 0), x_dir=(1, 0, 0), z_dir=(0, 1, 0)).offset(BOSS_EXTRUDE6_START)):
        with Locations((57.15, 57.15)):
            Rectangle(SKETCH13_W, SKETCH13_H)
        with Locations(Location((57.15, 57.15, 0), (0, 0, 90))):
            Circle(SKETCH13_R, mode=Mode.SUBTRACT)
    extrude(amount=-BOSS_EXTRUDE6_DEPTH)

    # Cut-Extrude6: up to this face of the body (flat: up to its plane)
    cut_extrude6_end = Plane(part_2.part.faces().sort_by_distance((25.508916271, 13.892566464, 77.4))[0])
    # Sketch14 → Cut-Extrude6 (cut, up to the picked face)
    with BuildSketch(Plane(origin=(0, 0, 74.785786438), x_dir=(-1, 0, 0), z_dir=(0, 0, -1)), mode=Mode.PRIVATE) as cut_extrude6_sk1:
        with BuildLine():
            Line((-38.891815428, 9.05), (-29.271572875, 9.05))
            Line((-29.271572875, 9.05), (-29.271572875, 0))
            Line((-29.271572875, 0), (-37.428466034, 0))
            ThreePointArc((-37.428466034, 0), (-38.292196947, 4.503647029), (-38.891815428, 9.05))
        make_face()
    cut_extrude6_tool1 = split(extrude(cut_extrude6_sk1.sketch, amount=-CUT_EXTRUDE6_REACH, mode=Mode.PRIVATE), bisect_by=cut_extrude6_end, keep=Keep.BOTH, mode=Mode.PRIVATE)
    add(cut_extrude6_tool1.solids().sort_by(Axis((33.771048, 4.647825, 74.785786), (0, 0, 1)))[0], mode=Mode.SUBTRACT)

    # Sketch14 → Cut-Extrude6 direction 2 (cut)
    with BuildSketch(Plane(origin=(0, 0, 74.785786438), x_dir=(-1, 0, 0), z_dir=(0, 0, -1))):
        with BuildLine():
            Line((-38.891815428, 9.05), (-29.271572875, 9.05))
            Line((-29.271572875, 9.05), (-29.271572875, 0))
            Line((-29.271572875, 0), (-37.428466034, 0))
            ThreePointArc((-37.428466034, 0), (-38.292196947, 4.503647029), (-38.891815428, 9.05))
        make_face()
    extrude(amount=CUT_EXTRUDE6_DIRECTION_2_DEPTH, mode=Mode.SUBTRACT)


solid = part_2.part
